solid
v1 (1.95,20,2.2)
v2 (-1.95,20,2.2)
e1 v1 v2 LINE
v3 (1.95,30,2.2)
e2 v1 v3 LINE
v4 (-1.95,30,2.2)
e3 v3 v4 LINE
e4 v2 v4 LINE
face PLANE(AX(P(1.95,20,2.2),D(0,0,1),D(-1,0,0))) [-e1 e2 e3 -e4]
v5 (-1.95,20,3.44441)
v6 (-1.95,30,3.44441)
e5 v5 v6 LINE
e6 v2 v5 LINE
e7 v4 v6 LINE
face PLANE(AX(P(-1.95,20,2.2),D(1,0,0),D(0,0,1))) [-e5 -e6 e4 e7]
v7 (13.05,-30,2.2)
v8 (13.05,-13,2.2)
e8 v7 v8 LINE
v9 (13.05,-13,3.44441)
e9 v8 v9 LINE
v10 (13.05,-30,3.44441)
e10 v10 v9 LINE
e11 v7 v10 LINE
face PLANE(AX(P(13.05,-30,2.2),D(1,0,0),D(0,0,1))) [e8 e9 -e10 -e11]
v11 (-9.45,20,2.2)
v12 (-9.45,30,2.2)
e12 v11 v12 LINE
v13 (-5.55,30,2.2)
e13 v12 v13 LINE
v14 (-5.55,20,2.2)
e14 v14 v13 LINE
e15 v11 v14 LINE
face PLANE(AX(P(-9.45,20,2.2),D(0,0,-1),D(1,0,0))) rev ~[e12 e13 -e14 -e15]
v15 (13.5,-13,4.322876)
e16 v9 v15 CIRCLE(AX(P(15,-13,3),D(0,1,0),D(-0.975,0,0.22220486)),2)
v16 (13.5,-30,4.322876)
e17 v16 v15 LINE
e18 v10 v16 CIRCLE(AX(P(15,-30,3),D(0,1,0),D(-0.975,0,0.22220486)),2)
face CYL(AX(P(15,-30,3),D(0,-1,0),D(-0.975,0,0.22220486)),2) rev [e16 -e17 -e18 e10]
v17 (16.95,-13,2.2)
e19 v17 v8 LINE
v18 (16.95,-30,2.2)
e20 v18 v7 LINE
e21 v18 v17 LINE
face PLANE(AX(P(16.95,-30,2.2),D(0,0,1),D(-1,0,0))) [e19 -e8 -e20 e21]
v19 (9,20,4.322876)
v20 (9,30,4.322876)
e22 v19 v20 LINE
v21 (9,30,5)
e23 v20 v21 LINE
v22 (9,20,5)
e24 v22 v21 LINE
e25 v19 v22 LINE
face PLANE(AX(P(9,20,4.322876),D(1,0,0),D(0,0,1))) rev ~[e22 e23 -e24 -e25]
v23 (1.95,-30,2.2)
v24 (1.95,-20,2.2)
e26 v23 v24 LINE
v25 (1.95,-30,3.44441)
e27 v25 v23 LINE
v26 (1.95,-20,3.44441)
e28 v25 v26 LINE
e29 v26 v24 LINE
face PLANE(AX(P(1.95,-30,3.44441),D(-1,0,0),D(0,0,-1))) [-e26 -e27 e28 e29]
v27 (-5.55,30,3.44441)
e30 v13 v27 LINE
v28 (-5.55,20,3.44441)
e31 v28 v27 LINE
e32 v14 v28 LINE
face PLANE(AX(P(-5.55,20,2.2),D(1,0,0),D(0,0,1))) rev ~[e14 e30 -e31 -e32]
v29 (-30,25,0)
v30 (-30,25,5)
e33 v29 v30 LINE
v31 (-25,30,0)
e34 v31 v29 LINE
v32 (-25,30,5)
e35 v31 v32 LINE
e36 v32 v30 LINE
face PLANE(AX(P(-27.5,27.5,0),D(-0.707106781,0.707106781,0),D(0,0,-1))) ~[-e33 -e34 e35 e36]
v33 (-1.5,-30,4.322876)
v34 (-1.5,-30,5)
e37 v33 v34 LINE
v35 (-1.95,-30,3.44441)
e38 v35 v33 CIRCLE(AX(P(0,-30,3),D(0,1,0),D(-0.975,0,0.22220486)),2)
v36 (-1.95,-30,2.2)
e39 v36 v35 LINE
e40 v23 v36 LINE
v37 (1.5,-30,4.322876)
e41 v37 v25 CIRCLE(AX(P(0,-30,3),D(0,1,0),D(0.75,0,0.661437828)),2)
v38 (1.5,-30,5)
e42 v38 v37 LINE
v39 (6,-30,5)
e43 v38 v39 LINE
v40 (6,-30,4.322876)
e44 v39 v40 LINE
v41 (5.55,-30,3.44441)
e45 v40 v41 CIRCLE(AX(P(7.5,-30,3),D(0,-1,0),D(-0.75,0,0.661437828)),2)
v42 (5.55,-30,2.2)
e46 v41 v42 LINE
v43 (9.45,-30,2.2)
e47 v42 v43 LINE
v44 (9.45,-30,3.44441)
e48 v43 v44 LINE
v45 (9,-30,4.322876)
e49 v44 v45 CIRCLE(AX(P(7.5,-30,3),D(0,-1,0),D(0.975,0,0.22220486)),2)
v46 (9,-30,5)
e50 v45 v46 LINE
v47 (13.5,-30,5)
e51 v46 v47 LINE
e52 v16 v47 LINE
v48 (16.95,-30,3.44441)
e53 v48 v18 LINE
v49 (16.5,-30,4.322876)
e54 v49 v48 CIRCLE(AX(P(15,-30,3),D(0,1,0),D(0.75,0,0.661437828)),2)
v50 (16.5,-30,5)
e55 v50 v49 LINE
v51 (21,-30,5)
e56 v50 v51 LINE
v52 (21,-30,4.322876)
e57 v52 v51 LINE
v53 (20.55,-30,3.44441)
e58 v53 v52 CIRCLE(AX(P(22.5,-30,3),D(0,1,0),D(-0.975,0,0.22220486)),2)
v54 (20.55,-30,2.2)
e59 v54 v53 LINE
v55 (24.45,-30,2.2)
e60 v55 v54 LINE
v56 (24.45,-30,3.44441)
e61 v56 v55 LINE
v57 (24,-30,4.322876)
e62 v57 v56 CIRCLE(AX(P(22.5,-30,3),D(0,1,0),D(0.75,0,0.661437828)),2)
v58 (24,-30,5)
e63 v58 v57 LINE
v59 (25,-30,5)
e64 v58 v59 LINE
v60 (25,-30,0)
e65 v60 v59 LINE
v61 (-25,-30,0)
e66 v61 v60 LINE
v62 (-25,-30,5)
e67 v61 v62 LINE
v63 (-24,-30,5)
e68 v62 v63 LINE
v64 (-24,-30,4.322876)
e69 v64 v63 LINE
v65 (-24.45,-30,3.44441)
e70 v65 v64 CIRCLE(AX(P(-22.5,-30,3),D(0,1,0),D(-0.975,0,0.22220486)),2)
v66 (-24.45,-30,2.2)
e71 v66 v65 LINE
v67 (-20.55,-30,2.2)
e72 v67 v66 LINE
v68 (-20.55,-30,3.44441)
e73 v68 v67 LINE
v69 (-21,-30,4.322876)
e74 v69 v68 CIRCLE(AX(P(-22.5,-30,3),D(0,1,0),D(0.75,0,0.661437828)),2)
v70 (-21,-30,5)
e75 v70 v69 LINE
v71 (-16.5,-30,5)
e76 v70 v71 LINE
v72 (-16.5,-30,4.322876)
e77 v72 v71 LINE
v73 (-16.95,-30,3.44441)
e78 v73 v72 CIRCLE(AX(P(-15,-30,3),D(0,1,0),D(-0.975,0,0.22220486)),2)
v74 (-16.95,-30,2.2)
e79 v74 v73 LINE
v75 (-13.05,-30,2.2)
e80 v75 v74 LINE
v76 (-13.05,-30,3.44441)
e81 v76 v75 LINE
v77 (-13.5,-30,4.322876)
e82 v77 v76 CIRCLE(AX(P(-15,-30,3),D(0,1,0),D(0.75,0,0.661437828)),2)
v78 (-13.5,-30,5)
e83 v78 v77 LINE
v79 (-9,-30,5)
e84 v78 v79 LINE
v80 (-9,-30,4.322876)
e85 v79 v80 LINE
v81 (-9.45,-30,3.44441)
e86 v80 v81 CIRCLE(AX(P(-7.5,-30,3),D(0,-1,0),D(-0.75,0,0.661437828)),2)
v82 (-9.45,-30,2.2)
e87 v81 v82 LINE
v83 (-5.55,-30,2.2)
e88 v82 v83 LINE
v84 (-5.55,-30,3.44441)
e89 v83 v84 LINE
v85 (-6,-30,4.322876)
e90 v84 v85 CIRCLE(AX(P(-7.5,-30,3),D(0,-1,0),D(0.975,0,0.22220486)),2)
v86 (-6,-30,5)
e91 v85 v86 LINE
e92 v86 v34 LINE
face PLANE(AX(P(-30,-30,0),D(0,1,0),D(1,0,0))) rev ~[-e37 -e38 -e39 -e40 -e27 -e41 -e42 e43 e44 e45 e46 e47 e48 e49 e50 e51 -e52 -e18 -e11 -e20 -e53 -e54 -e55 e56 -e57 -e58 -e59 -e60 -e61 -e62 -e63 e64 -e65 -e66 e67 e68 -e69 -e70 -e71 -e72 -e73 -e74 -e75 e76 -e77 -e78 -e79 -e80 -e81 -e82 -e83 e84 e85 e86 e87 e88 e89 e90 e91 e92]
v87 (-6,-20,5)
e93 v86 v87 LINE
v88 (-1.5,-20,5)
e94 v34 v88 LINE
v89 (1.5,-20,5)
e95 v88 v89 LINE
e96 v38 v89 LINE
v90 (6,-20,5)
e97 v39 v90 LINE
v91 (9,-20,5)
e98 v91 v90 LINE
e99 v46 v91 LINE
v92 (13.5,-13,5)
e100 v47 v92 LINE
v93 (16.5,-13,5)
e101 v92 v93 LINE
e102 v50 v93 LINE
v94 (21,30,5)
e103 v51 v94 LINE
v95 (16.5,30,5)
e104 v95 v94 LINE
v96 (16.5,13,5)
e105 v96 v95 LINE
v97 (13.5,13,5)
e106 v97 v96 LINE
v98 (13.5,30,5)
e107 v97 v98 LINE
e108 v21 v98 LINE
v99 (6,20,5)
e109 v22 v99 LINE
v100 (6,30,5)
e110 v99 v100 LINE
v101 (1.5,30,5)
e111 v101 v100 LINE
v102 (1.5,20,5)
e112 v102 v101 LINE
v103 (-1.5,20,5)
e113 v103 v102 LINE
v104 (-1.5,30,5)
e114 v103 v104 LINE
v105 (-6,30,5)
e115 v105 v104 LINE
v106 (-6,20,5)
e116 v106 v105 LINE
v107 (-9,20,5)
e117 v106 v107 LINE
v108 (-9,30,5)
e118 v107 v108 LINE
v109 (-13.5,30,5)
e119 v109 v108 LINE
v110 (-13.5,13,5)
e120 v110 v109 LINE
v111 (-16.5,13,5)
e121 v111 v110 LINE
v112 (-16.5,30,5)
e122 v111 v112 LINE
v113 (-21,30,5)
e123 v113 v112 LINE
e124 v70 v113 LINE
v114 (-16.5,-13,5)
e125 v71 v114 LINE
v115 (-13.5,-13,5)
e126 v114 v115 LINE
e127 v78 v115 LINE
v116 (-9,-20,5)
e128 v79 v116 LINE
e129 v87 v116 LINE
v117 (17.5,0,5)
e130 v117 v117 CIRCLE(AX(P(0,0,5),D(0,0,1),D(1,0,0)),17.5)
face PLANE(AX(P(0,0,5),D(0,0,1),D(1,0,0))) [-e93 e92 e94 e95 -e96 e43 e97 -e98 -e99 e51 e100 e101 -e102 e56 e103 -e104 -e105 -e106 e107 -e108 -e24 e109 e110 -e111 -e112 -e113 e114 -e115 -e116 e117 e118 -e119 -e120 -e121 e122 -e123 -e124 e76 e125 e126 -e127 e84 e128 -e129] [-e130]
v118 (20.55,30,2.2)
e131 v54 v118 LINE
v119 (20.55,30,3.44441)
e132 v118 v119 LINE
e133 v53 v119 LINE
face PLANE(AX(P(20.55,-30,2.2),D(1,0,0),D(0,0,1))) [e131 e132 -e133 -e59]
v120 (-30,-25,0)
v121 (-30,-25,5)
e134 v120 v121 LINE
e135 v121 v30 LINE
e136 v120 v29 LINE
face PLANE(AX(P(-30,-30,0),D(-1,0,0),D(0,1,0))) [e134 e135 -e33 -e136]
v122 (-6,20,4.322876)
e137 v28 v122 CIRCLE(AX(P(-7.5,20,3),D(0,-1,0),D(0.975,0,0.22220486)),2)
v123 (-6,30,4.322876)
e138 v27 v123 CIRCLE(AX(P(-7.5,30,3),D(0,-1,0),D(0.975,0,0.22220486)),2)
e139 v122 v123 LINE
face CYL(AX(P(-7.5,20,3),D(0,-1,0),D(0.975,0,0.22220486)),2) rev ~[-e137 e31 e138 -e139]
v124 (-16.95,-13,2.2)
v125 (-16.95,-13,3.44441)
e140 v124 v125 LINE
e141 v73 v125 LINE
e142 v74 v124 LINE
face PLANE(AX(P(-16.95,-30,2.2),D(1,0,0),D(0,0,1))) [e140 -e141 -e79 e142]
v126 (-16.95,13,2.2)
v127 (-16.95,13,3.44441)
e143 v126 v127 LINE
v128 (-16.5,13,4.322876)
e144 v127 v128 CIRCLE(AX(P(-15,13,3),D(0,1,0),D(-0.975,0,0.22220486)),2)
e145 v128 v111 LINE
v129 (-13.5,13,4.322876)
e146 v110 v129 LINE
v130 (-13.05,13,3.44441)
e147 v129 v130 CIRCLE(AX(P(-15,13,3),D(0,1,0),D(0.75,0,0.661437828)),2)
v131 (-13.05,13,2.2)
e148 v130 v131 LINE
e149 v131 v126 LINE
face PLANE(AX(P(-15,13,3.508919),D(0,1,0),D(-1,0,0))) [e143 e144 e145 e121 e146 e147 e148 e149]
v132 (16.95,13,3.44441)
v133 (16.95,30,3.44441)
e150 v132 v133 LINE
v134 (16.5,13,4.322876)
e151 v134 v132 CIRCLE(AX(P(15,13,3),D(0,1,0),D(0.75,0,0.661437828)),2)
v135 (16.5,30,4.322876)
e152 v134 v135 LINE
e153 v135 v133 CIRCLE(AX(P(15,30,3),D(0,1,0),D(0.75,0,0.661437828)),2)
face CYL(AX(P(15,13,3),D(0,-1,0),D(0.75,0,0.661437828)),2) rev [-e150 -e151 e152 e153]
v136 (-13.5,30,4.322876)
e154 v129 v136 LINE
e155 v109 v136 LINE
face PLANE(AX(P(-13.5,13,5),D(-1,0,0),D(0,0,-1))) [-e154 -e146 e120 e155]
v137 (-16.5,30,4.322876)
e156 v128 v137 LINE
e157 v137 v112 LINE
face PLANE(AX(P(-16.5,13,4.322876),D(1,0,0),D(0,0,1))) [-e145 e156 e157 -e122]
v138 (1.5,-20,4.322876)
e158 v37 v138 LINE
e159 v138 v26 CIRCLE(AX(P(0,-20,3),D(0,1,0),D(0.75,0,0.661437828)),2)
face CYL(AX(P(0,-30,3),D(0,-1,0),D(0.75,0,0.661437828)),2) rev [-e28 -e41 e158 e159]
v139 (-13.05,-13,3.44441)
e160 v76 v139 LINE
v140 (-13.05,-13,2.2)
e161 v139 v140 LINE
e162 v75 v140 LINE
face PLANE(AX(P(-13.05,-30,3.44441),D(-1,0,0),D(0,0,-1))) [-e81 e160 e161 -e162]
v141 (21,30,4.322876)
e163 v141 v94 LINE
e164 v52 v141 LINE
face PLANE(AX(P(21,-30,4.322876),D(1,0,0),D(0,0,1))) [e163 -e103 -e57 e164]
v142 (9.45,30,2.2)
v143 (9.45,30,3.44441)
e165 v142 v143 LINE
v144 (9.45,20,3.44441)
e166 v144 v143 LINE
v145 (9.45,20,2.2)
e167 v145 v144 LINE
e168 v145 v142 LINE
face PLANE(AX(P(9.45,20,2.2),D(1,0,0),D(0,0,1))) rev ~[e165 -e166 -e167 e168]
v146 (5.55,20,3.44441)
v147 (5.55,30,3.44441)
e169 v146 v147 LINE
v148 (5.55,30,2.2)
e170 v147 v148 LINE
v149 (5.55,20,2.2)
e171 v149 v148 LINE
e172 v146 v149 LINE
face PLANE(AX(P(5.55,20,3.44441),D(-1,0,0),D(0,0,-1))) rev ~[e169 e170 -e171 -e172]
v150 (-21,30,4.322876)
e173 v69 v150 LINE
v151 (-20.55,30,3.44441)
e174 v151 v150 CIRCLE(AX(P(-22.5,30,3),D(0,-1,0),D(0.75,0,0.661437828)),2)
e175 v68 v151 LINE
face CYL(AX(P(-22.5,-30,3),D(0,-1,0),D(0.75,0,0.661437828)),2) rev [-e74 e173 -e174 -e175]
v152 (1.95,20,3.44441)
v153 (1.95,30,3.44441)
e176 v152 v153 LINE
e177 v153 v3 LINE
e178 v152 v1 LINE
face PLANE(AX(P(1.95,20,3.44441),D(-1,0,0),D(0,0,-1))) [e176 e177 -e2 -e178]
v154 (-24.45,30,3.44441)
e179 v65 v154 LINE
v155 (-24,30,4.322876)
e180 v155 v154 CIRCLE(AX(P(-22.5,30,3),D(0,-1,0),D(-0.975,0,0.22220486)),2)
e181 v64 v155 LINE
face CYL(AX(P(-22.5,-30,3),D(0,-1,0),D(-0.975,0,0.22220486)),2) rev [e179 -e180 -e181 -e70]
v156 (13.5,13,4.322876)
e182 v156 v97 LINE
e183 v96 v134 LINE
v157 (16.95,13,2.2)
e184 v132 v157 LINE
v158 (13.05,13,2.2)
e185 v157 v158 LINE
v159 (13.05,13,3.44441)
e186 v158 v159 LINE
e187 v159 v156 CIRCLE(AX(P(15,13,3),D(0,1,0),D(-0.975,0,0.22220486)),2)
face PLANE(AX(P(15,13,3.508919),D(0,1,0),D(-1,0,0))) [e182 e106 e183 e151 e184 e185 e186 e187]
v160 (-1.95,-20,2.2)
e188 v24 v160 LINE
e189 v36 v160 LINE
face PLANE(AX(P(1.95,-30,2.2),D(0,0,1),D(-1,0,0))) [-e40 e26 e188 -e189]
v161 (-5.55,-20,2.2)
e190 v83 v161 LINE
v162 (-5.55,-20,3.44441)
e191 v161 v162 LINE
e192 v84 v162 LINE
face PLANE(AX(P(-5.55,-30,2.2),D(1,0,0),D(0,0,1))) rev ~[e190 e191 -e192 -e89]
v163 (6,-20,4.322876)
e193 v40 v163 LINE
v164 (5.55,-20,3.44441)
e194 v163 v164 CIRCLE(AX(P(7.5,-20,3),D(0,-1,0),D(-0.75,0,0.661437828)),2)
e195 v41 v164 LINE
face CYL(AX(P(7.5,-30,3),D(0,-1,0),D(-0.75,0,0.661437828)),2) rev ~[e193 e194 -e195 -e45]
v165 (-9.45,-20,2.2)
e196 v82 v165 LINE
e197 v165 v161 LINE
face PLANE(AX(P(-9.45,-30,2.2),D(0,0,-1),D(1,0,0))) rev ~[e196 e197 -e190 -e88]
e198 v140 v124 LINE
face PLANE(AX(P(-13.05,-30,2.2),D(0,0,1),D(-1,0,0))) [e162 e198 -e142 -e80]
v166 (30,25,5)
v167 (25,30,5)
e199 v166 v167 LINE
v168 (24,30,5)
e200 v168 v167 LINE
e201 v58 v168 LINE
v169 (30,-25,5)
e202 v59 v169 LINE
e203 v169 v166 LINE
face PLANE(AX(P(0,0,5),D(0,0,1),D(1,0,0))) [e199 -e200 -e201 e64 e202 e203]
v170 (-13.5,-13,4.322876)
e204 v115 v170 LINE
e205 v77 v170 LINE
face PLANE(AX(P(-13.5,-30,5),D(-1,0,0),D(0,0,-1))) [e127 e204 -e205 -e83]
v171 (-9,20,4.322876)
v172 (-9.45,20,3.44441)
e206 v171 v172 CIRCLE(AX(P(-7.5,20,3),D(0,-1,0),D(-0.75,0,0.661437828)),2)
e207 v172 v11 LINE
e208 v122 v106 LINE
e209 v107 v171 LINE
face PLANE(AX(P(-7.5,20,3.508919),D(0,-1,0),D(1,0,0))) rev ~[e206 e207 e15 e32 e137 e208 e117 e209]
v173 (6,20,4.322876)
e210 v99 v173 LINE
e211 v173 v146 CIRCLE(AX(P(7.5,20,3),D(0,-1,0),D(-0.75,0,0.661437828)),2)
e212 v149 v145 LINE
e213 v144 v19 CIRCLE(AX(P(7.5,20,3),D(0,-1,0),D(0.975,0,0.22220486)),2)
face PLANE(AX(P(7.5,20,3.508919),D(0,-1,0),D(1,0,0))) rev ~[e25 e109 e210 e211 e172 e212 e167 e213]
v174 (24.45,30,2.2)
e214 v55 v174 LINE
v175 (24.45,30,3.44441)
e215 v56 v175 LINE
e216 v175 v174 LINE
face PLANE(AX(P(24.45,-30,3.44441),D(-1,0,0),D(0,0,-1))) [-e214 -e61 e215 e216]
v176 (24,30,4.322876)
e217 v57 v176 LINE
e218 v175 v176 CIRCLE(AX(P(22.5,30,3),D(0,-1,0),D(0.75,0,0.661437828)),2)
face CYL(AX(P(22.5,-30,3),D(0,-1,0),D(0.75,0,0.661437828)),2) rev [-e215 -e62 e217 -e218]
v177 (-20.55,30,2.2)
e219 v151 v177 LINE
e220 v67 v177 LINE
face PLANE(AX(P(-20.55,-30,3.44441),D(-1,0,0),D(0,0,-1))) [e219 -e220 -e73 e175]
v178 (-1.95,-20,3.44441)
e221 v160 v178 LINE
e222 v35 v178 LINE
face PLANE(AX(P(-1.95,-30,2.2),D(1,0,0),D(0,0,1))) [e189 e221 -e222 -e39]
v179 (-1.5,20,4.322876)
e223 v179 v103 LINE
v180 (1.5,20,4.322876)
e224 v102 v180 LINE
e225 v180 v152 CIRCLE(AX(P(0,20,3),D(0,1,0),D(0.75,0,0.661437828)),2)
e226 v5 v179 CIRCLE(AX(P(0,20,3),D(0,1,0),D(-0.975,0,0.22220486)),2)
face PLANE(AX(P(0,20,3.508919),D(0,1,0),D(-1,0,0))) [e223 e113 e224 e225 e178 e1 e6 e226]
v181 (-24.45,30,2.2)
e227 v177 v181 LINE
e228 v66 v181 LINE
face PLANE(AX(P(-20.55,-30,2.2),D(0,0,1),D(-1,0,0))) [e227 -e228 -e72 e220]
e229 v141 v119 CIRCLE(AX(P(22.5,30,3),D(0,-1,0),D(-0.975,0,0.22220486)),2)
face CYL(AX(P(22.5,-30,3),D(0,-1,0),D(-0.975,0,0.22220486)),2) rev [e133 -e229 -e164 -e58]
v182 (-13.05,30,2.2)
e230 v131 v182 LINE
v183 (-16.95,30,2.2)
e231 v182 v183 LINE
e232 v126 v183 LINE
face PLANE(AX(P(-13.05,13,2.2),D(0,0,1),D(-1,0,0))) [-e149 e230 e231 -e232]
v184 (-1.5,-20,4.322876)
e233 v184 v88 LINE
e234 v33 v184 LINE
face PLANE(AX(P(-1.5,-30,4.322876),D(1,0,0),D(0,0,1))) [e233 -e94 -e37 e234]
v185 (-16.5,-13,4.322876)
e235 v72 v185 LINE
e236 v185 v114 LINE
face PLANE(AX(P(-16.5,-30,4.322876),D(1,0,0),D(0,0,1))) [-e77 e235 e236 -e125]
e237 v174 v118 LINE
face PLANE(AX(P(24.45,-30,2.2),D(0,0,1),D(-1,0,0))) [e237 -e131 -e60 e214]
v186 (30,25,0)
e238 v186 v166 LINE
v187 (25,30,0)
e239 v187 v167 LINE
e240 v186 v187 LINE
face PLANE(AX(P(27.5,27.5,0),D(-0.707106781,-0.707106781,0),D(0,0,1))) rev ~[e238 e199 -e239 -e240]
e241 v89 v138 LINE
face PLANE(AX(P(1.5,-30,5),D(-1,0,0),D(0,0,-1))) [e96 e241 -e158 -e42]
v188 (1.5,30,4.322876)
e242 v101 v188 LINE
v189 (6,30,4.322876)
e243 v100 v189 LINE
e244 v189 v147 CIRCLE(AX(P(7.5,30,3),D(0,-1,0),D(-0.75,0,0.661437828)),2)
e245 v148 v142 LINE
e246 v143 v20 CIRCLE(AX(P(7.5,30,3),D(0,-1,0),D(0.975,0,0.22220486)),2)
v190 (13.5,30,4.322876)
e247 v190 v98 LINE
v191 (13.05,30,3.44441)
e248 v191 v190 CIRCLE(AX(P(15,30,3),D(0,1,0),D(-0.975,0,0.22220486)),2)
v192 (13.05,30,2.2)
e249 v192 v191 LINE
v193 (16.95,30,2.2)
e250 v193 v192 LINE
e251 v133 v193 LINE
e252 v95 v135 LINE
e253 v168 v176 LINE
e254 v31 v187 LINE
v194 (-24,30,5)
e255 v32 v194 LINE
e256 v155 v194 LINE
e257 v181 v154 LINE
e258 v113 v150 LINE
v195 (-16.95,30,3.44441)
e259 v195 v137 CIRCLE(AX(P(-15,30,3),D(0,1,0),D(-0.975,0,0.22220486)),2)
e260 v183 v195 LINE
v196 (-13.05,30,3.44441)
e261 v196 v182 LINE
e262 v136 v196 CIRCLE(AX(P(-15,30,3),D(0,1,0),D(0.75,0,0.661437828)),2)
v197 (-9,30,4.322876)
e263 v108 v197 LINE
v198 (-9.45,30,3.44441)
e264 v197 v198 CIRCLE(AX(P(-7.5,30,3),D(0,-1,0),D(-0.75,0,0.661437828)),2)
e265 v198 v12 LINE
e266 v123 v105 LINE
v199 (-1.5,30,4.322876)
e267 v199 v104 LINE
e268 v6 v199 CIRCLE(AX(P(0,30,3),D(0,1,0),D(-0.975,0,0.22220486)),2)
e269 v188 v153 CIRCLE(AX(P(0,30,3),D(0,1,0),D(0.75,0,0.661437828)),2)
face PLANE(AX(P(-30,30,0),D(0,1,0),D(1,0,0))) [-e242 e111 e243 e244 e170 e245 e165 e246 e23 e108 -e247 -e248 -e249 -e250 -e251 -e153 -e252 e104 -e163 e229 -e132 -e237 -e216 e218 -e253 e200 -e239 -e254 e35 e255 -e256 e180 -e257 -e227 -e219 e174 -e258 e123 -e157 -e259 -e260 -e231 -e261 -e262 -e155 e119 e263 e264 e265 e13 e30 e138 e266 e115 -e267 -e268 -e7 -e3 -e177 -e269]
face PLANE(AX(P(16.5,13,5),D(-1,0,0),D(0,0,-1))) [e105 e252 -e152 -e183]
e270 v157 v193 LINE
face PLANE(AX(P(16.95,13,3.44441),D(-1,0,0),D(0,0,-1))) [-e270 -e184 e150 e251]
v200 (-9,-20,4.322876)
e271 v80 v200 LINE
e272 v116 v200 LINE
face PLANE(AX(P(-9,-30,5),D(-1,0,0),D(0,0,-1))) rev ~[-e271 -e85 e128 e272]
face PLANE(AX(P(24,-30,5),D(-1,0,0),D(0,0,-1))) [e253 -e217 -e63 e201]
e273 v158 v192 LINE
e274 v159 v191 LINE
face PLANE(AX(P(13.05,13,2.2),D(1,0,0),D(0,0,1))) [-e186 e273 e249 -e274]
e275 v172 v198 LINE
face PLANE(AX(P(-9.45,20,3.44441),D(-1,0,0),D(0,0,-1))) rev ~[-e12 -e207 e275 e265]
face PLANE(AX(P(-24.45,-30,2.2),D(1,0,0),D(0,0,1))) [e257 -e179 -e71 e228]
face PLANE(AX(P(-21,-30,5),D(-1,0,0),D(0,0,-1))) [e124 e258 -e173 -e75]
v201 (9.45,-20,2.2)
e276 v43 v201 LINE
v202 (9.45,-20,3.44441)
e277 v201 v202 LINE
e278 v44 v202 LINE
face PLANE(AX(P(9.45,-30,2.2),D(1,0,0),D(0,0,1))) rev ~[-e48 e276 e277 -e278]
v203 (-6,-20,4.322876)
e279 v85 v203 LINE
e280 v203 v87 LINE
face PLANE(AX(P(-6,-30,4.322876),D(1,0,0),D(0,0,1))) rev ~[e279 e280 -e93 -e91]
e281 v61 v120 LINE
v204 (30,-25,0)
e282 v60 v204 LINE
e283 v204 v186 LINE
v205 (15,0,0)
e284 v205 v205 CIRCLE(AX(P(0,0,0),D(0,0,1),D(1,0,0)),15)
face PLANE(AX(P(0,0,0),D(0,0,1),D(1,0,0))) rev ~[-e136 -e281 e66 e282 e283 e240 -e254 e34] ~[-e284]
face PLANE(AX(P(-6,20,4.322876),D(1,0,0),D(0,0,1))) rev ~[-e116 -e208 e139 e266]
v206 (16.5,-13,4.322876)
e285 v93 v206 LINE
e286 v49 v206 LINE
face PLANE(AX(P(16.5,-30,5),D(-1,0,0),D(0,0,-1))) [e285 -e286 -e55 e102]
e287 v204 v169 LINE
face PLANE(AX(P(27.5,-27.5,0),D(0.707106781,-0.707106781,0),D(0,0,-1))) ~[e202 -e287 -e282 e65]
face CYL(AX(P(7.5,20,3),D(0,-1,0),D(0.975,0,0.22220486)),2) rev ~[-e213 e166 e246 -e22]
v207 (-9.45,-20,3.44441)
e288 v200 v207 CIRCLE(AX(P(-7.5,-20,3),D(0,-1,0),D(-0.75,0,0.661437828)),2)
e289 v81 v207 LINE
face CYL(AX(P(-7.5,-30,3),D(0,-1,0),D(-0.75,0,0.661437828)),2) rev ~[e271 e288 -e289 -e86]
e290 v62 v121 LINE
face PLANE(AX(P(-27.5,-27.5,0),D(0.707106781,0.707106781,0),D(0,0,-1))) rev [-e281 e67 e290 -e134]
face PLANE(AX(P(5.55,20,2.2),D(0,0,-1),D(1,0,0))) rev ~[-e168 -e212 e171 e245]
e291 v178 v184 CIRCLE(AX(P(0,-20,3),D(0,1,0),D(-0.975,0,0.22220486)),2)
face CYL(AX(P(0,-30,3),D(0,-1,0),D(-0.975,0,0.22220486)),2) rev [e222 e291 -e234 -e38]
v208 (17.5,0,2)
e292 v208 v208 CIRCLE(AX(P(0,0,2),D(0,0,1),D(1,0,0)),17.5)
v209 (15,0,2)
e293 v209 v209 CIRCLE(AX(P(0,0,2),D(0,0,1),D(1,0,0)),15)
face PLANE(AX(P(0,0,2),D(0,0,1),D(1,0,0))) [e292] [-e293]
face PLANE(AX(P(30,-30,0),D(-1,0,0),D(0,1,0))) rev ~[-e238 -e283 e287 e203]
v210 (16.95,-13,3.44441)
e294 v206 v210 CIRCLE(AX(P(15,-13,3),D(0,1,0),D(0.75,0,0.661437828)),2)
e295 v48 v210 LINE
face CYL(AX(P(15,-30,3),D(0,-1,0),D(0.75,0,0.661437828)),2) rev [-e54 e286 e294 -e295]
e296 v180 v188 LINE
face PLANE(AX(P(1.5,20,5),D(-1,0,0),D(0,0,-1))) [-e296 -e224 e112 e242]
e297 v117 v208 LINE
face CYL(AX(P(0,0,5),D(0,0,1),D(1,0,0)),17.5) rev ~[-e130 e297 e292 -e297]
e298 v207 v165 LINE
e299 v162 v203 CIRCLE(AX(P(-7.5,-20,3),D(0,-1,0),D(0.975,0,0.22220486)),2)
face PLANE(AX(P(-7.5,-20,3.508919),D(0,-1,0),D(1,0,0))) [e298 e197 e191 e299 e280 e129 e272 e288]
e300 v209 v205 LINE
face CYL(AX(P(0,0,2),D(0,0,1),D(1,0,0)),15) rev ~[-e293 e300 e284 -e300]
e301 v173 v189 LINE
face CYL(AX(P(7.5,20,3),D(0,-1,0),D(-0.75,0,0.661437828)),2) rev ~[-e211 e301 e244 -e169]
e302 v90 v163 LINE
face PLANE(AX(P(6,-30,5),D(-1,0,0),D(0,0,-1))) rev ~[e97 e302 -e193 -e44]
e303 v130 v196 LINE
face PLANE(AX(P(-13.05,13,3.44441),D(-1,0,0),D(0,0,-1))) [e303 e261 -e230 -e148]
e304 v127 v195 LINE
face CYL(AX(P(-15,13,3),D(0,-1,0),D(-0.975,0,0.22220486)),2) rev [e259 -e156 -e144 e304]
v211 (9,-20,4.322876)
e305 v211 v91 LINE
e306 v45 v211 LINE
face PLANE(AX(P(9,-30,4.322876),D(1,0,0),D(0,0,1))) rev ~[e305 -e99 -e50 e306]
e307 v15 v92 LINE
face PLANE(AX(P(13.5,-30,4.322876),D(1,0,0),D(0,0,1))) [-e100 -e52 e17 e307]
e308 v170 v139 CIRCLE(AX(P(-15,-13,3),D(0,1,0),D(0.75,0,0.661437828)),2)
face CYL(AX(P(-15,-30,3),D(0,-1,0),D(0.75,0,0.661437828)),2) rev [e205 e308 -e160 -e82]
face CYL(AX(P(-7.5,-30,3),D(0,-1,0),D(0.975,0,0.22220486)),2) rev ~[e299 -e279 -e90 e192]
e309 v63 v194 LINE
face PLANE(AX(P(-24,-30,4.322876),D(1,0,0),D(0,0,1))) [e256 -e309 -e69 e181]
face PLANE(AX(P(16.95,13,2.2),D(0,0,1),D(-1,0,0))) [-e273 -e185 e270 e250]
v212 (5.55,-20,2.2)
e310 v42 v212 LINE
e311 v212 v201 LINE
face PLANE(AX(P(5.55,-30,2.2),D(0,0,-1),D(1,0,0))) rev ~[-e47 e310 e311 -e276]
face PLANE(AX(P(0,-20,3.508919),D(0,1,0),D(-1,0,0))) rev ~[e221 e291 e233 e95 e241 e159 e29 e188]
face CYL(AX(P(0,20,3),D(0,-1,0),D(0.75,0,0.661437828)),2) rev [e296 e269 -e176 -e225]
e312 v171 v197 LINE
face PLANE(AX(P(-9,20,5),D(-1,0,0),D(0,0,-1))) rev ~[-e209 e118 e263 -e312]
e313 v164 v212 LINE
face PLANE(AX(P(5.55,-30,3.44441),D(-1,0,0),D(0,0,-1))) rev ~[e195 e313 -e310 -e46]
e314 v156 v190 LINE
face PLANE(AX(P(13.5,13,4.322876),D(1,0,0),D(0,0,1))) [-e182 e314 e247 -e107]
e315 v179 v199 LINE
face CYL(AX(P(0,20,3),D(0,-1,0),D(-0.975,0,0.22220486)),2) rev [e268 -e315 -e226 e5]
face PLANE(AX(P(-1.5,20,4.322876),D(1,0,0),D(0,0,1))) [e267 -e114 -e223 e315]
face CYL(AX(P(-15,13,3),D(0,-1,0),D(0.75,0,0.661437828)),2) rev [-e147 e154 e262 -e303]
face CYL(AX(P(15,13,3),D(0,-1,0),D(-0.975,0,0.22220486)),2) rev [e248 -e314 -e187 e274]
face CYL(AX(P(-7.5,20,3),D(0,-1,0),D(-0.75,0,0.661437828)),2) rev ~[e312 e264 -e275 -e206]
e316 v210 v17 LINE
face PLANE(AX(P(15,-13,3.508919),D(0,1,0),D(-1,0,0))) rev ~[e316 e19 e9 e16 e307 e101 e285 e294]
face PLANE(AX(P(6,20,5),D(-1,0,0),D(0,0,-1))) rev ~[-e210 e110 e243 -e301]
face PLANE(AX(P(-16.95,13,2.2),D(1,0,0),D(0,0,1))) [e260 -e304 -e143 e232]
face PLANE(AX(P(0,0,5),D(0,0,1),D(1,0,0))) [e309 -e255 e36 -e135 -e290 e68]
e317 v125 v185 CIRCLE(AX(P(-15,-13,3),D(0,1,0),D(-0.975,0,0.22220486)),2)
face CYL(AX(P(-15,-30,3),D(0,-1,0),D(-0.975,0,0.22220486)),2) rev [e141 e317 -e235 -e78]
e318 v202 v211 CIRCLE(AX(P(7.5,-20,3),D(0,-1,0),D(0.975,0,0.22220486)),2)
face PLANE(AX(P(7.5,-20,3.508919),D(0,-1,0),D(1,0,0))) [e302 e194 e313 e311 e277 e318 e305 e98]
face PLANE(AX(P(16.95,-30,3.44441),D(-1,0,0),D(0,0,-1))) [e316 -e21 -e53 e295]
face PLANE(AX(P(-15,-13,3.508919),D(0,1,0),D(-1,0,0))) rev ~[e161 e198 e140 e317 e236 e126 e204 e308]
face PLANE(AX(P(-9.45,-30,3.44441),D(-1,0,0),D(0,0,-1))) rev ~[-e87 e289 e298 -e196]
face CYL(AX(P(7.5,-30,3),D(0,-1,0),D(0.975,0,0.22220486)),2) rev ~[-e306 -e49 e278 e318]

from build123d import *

# Parameters (mm, degrees)
SKETCH_1_R          = 45
EXTRUDE_1_DEPTH     = 5
SKETCH_2_W          = 60
SKETCH_2_H          = 60
EXTRUDE_2_DEPTH     = 5
CUT_EXTRUDE_1_DEPTH = 10
CUT_EXTRUDE_START   = -50
CUT_EXTRUDE_2_DEPTH = 10
CUT_EXTRUDE_3_DEPTH = 17
CUT_EXTRUDE_START_2 = -43
CUT_EXTRUDE_4_DEPTH = 17
CUT_EXTRUDE_5_REACH = 89.607
CHAMFER_1_SIZE      = 5
SKETCH_6_R          = 17.5
CUT_EXTRUDE_6_DEPTH = 3
SKETCH_7_R          = 15
CUT_EXTRUDE_7_DEPTH = 65.02343321
SKETCH_8_R          = 45
CUT_EXTRUDE_9_DEPTH = 10


with BuildPart() as part:
    # 草图1 → 凸台-拉伸1 (new body)
    with BuildSketch(Plane.XY):
        Circle(SKETCH_1_R)
    extrude(amount=-EXTRUDE_1_DEPTH)

    # 草图2 → 凸台-拉伸2 (add)
    with BuildSketch(Plane.XY):
        Rectangle(SKETCH_2_W, SKETCH_2_H)
    extrude(amount=EXTRUDE_2_DEPTH)

    # 草图3 → 切除-拉伸1 (cut)
    with BuildSketch(Plane.XZ.offset(30)):
        with BuildLine():
            Line((-1.5, 5), (1.5, 5))
            Line((1.5, 5), (1.5, 4.322875656))
            ThreePointArc((1.5, 4.322875656), (1.780042303, 3.911838473), (1.95, 3.444409721))
            Line((1.95, 3.444409721), (1.95, 2.2))
            Line((1.95, 2.2), (-1.95, 2.2))
            Line((-1.95, 2.2), (-1.95, 3.444409721))
            ThreePointArc((-1.95, 3.444409721), (-1.780042303, 3.911838473), (-1.5, 4.322875656))
            Line((-1.5, 4.322875656), (-1.5, 5))
        make_face()
        with BuildLine():
            Line((6, 5), (6, 4.322875656))
            ThreePointArc((6, 4.322875656), (5.719957697, 3.911838473), (5.55, 3.444409721))
            Line((5.55, 3.444409721), (5.55, 2.2))
            Line((5.55, 2.2), (9.45, 2.2))
            Line((9.45, 2.2), (9.45, 3.444409721))
            ThreePointArc((9.45, 3.444409721), (9.280042303, 3.911838473), (9, 4.322875656))
            Line((9, 4.322875656), (9, 5))
            Line((9, 5), (6, 5))
        make_face()
        with BuildLine():
            Line((-9, 5), (-9, 4.322875656))
            ThreePointArc((-9, 4.322875656), (-9.280042303, 3.911838473), (-9.45, 3.444409721))
            Line((-9.45, 3.444409721), (-9.45, 2.2))
            Line((-9.45, 2.2), (-5.55, 2.2))
            Line((-5.55, 2.2), (-5.55, 3.444409721))
            ThreePointArc((-5.55, 3.444409721), (-5.719957697, 3.911838473), (-6, 4.322875656))
            Line((-6, 4.322875656), (-6, 5))
            Line((-6, 5), (-9, 5))
        make_face()
    extrude(amount=-CUT_EXTRUDE_1_DEPTH, mode=Mode.SUBTRACT)

    # 草图3<2> → 切除-拉伸2 (cut)
    with BuildSketch(Plane.XZ.offset(30).offset(CUT_EXTRUDE_START)):
        with BuildLine():
            Line((-1.5, 5), (1.5, 5))
            Line((1.5, 5), (1.5, 4.322875656))
            ThreePointArc((1.5, 4.322875656), (1.780042303, 3.911838473), (1.95, 3.444409721))
            Line((1.95, 3.444409721), (1.95, 2.2))
            Line((1.95, 2.2), (-1.95, 2.2))
            Line((-1.95, 2.2), (-1.95, 3.444409721))
            ThreePointArc((-1.95, 3.444409721), (-1.780042303, 3.911838473), (-1.5, 4.322875656))
            Line((-1.5, 4.322875656), (-1.5, 5))
        make_face()
        with BuildLine():
            Line((6, 5), (6, 4.322875656))
            ThreePointArc((6, 4.322875656), (5.719957697, 3.911838473), (5.55, 3.444409721))
            Line((5.55, 3.444409721), (5.55, 2.2))
            Line((5.55, 2.2), (9.45, 2.2))
            Line((9.45, 2.2), (9.45, 3.444409721))
            ThreePointArc((9.45, 3.444409721), (9.280042303, 3.911838473), (9, 4.322875656))
            Line((9, 4.322875656), (9, 5))
            Line((9, 5), (6, 5))
        make_face()
        with BuildLine():
            Line((-9, 5), (-9, 4.322875656))
            ThreePointArc((-9, 4.322875656), (-9.280042303, 3.911838473), (-9.45, 3.444409721))
            Line((-9.45, 3.444409721), (-9.45, 2.2))
            Line((-9.45, 2.2), (-5.55, 2.2))
            Line((-5.55, 2.2), (-5.55, 3.444409721))
            ThreePointArc((-5.55, 3.444409721), (-5.719957697, 3.911838473), (-6, 4.322875656))
            Line((-6, 4.322875656), (-6, 5))
            Line((-6, 5), (-9, 5))
        make_face()
    extrude(amount=-CUT_EXTRUDE_2_DEPTH, mode=Mode.SUBTRACT)

    # 草图4 → 切除-拉伸3 (cut)
    with BuildSketch(Plane.XZ.offset(30)):
        with BuildLine():
            Line((-16.5, 5), (-13.5, 5))
            Line((-13.5, 5), (-13.5, 4.322875656))
            ThreePointArc((-13.5, 4.322875656), (-13.219957697, 3.911838473), (-13.05, 3.444409721))
            Line((-13.05, 3.444409721), (-13.05, 2.2))
            Line((-13.05, 2.2), (-16.95, 2.2))
            Line((-16.95, 2.2), (-16.95, 3.444409721))
            ThreePointArc((-16.95, 3.444409721), (-16.780042303, 3.911838473), (-16.5, 4.322875656))
            Line((-16.5, 4.322875656), (-16.5, 5))
        make_face()
        with BuildLine():
            Line((13.5, 5), (16.5, 5))
            Line((16.5, 5), (16.5, 4.322875656))
            ThreePointArc((16.5, 4.322875656), (16.780042303, 3.911838473), (16.95, 3.444409721))
            Line((16.95, 3.444409721), (16.95, 2.2))
            Line((16.95, 2.2), (13.05, 2.2))
            Line((13.05, 2.2), (13.05, 3.444409721))
            ThreePointArc((13.05, 3.444409721), (13.219957697, 3.911838473), (13.5, 4.322875656))
            Line((13.5, 4.322875656), (13.5, 5))
        make_face()
    extrude(amount=-CUT_EXTRUDE_3_DEPTH, mode=Mode.SUBTRACT)

    # 草图4<2> → 切除-拉伸4 (cut)
    with BuildSketch(Plane.XZ.offset(30).offset(CUT_EXTRUDE_START_2)):
        with BuildLine():
            Line((-16.5, 5), (-13.5, 5))
            Line((-13.5, 5), (-13.5, 4.322875656))
            ThreePointArc((-13.5, 4.322875656), (-13.219957697, 3.911838473), (-13.05, 3.444409721))
            Line((-13.05, 3.444409721), (-13.05, 2.2))
            Line((-13.05, 2.2), (-16.95, 2.2))
            Line((-16.95, 2.2), (-16.95, 3.444409721))
            ThreePointArc((-16.95, 3.444409721), (-16.780042303, 3.911838473), (-16.5, 4.322875656))
            Line((-16.5, 4.322875656), (-16.5, 5))
        make_face()
        with BuildLine():
            Line((13.5, 5), (16.5, 5))
            Line((16.5, 5), (16.5, 4.322875656))
            ThreePointArc((16.5, 4.322875656), (16.780042303, 3.911838473), (16.95, 3.444409721))
            Line((16.95, 3.444409721), (16.95, 2.2))
            Line((16.95, 2.2), (13.05, 2.2))
            Line((13.05, 2.2), (13.05, 3.444409721))
            ThreePointArc((13.05, 3.444409721), (13.219957697, 3.911838473), (13.5, 4.322875656))
            Line((13.5, 4.322875656), (13.5, 5))
        make_face()
    extrude(amount=-CUT_EXTRUDE_4_DEPTH, mode=Mode.SUBTRACT)

    # 草图5 → 切除-拉伸5 (cut, up to next)
    with BuildSketch(Plane.XZ.offset(30), mode=Mode.PRIVATE) as cut_extrude_5_sk1:
        with BuildLine():
            Line((-21, 5), (-21, 4.322875656))
            ThreePointArc((-21, 4.322875656), (-20.719957697, 3.911838473), (-20.55, 3.444409721))
            Line((-20.55, 3.444409721), (-20.55, 2.2))
            Line((-20.55, 2.2), (-24.45, 2.2))
            Line((-24.45, 2.2), (-24.45, 3.444409721))
            ThreePointArc((-24.45, 3.444409721), (-24.280042303, 3.911838473), (-24, 4.322875656))
            Line((-24, 4.322875656), (-24, 5))
            Line((-24, 5), (-21, 5))
        make_face()
    cut_extrude_5_tool1 = extrude(cut_extrude_5_sk1.sketch, amount=-CUT_EXTRUDE_5_REACH, mode=Mode.PRIVATE) & part.part
    # 草图5 → 切除-拉伸5 (cut, up to next)
    with BuildSketch(Plane.XZ.offset(30), mode=Mode.PRIVATE) as cut_extrude_5_sk2:
        with BuildLine():
            Line((24, 5), (24, 4.322875656))
            ThreePointArc((24, 4.322875656), (24.280042303, 3.911838473), (24.45, 3.444409721))
            Line((24.45, 3.444409721), (24.45, 2.2))
            Line((24.45, 2.2), (20.55, 2.2))
            Line((20.55, 2.2), (20.55, 3.444409721))
            ThreePointArc((20.55, 3.444409721), (20.719957697, 3.911838473), (21, 4.322875656))
            Line((21, 4.322875656), (21, 5))
            Line((21, 5), (24, 5))
        make_face()
    cut_extrude_5_tool2 = extrude(cut_extrude_5_sk2.sketch, amount=-CUT_EXTRUDE_5_REACH, mode=Mode.PRIVATE) & part.part
    add(cut_extrude_5_tool1.solids().sort_by_distance((-22.5, -30, 3.520698))[0], mode=Mode.SUBTRACT)
    add(cut_extrude_5_tool2.solids().sort_by_distance((22.5, -30, 3.520698))[0], mode=Mode.SUBTRACT)

    # 倒角1
    chamfer_1_edges = [part.edges().sort_by_distance(p)[0] for p in [
        (-30, 30, 2.5),
        (-30, -30, 2.5),
        (30, -30, 2.5),
        (30, 30, 2.5),
    ]]
    chamfer(chamfer_1_edges, length=CHAMFER_1_SIZE)

    # 草图6 → 切除-拉伸6 (cut)
    with BuildSketch(Plane.XY.offset(5)):
        Circle(SKETCH_6_R)
    extrude(amount=-CUT_EXTRUDE_6_DEPTH, mode=Mode.SUBTRACT)

    # 草图7 → 切除-拉伸7 (cut, through all)
    with BuildSketch(Plane.XY.offset(2)):
        Circle(SKETCH_7_R)
    extrude(amount=-CUT_EXTRUDE_7_DEPTH, mode=Mode.SUBTRACT)

    # 草图8 → 切除-拉伸9 (cut)
    with BuildSketch(Plane.XY):
        Circle(SKETCH_8_R)
    extrude(amount=-CUT_EXTRUDE_9_DEPTH, mode=Mode.SUBTRACT)


solid = part.part
